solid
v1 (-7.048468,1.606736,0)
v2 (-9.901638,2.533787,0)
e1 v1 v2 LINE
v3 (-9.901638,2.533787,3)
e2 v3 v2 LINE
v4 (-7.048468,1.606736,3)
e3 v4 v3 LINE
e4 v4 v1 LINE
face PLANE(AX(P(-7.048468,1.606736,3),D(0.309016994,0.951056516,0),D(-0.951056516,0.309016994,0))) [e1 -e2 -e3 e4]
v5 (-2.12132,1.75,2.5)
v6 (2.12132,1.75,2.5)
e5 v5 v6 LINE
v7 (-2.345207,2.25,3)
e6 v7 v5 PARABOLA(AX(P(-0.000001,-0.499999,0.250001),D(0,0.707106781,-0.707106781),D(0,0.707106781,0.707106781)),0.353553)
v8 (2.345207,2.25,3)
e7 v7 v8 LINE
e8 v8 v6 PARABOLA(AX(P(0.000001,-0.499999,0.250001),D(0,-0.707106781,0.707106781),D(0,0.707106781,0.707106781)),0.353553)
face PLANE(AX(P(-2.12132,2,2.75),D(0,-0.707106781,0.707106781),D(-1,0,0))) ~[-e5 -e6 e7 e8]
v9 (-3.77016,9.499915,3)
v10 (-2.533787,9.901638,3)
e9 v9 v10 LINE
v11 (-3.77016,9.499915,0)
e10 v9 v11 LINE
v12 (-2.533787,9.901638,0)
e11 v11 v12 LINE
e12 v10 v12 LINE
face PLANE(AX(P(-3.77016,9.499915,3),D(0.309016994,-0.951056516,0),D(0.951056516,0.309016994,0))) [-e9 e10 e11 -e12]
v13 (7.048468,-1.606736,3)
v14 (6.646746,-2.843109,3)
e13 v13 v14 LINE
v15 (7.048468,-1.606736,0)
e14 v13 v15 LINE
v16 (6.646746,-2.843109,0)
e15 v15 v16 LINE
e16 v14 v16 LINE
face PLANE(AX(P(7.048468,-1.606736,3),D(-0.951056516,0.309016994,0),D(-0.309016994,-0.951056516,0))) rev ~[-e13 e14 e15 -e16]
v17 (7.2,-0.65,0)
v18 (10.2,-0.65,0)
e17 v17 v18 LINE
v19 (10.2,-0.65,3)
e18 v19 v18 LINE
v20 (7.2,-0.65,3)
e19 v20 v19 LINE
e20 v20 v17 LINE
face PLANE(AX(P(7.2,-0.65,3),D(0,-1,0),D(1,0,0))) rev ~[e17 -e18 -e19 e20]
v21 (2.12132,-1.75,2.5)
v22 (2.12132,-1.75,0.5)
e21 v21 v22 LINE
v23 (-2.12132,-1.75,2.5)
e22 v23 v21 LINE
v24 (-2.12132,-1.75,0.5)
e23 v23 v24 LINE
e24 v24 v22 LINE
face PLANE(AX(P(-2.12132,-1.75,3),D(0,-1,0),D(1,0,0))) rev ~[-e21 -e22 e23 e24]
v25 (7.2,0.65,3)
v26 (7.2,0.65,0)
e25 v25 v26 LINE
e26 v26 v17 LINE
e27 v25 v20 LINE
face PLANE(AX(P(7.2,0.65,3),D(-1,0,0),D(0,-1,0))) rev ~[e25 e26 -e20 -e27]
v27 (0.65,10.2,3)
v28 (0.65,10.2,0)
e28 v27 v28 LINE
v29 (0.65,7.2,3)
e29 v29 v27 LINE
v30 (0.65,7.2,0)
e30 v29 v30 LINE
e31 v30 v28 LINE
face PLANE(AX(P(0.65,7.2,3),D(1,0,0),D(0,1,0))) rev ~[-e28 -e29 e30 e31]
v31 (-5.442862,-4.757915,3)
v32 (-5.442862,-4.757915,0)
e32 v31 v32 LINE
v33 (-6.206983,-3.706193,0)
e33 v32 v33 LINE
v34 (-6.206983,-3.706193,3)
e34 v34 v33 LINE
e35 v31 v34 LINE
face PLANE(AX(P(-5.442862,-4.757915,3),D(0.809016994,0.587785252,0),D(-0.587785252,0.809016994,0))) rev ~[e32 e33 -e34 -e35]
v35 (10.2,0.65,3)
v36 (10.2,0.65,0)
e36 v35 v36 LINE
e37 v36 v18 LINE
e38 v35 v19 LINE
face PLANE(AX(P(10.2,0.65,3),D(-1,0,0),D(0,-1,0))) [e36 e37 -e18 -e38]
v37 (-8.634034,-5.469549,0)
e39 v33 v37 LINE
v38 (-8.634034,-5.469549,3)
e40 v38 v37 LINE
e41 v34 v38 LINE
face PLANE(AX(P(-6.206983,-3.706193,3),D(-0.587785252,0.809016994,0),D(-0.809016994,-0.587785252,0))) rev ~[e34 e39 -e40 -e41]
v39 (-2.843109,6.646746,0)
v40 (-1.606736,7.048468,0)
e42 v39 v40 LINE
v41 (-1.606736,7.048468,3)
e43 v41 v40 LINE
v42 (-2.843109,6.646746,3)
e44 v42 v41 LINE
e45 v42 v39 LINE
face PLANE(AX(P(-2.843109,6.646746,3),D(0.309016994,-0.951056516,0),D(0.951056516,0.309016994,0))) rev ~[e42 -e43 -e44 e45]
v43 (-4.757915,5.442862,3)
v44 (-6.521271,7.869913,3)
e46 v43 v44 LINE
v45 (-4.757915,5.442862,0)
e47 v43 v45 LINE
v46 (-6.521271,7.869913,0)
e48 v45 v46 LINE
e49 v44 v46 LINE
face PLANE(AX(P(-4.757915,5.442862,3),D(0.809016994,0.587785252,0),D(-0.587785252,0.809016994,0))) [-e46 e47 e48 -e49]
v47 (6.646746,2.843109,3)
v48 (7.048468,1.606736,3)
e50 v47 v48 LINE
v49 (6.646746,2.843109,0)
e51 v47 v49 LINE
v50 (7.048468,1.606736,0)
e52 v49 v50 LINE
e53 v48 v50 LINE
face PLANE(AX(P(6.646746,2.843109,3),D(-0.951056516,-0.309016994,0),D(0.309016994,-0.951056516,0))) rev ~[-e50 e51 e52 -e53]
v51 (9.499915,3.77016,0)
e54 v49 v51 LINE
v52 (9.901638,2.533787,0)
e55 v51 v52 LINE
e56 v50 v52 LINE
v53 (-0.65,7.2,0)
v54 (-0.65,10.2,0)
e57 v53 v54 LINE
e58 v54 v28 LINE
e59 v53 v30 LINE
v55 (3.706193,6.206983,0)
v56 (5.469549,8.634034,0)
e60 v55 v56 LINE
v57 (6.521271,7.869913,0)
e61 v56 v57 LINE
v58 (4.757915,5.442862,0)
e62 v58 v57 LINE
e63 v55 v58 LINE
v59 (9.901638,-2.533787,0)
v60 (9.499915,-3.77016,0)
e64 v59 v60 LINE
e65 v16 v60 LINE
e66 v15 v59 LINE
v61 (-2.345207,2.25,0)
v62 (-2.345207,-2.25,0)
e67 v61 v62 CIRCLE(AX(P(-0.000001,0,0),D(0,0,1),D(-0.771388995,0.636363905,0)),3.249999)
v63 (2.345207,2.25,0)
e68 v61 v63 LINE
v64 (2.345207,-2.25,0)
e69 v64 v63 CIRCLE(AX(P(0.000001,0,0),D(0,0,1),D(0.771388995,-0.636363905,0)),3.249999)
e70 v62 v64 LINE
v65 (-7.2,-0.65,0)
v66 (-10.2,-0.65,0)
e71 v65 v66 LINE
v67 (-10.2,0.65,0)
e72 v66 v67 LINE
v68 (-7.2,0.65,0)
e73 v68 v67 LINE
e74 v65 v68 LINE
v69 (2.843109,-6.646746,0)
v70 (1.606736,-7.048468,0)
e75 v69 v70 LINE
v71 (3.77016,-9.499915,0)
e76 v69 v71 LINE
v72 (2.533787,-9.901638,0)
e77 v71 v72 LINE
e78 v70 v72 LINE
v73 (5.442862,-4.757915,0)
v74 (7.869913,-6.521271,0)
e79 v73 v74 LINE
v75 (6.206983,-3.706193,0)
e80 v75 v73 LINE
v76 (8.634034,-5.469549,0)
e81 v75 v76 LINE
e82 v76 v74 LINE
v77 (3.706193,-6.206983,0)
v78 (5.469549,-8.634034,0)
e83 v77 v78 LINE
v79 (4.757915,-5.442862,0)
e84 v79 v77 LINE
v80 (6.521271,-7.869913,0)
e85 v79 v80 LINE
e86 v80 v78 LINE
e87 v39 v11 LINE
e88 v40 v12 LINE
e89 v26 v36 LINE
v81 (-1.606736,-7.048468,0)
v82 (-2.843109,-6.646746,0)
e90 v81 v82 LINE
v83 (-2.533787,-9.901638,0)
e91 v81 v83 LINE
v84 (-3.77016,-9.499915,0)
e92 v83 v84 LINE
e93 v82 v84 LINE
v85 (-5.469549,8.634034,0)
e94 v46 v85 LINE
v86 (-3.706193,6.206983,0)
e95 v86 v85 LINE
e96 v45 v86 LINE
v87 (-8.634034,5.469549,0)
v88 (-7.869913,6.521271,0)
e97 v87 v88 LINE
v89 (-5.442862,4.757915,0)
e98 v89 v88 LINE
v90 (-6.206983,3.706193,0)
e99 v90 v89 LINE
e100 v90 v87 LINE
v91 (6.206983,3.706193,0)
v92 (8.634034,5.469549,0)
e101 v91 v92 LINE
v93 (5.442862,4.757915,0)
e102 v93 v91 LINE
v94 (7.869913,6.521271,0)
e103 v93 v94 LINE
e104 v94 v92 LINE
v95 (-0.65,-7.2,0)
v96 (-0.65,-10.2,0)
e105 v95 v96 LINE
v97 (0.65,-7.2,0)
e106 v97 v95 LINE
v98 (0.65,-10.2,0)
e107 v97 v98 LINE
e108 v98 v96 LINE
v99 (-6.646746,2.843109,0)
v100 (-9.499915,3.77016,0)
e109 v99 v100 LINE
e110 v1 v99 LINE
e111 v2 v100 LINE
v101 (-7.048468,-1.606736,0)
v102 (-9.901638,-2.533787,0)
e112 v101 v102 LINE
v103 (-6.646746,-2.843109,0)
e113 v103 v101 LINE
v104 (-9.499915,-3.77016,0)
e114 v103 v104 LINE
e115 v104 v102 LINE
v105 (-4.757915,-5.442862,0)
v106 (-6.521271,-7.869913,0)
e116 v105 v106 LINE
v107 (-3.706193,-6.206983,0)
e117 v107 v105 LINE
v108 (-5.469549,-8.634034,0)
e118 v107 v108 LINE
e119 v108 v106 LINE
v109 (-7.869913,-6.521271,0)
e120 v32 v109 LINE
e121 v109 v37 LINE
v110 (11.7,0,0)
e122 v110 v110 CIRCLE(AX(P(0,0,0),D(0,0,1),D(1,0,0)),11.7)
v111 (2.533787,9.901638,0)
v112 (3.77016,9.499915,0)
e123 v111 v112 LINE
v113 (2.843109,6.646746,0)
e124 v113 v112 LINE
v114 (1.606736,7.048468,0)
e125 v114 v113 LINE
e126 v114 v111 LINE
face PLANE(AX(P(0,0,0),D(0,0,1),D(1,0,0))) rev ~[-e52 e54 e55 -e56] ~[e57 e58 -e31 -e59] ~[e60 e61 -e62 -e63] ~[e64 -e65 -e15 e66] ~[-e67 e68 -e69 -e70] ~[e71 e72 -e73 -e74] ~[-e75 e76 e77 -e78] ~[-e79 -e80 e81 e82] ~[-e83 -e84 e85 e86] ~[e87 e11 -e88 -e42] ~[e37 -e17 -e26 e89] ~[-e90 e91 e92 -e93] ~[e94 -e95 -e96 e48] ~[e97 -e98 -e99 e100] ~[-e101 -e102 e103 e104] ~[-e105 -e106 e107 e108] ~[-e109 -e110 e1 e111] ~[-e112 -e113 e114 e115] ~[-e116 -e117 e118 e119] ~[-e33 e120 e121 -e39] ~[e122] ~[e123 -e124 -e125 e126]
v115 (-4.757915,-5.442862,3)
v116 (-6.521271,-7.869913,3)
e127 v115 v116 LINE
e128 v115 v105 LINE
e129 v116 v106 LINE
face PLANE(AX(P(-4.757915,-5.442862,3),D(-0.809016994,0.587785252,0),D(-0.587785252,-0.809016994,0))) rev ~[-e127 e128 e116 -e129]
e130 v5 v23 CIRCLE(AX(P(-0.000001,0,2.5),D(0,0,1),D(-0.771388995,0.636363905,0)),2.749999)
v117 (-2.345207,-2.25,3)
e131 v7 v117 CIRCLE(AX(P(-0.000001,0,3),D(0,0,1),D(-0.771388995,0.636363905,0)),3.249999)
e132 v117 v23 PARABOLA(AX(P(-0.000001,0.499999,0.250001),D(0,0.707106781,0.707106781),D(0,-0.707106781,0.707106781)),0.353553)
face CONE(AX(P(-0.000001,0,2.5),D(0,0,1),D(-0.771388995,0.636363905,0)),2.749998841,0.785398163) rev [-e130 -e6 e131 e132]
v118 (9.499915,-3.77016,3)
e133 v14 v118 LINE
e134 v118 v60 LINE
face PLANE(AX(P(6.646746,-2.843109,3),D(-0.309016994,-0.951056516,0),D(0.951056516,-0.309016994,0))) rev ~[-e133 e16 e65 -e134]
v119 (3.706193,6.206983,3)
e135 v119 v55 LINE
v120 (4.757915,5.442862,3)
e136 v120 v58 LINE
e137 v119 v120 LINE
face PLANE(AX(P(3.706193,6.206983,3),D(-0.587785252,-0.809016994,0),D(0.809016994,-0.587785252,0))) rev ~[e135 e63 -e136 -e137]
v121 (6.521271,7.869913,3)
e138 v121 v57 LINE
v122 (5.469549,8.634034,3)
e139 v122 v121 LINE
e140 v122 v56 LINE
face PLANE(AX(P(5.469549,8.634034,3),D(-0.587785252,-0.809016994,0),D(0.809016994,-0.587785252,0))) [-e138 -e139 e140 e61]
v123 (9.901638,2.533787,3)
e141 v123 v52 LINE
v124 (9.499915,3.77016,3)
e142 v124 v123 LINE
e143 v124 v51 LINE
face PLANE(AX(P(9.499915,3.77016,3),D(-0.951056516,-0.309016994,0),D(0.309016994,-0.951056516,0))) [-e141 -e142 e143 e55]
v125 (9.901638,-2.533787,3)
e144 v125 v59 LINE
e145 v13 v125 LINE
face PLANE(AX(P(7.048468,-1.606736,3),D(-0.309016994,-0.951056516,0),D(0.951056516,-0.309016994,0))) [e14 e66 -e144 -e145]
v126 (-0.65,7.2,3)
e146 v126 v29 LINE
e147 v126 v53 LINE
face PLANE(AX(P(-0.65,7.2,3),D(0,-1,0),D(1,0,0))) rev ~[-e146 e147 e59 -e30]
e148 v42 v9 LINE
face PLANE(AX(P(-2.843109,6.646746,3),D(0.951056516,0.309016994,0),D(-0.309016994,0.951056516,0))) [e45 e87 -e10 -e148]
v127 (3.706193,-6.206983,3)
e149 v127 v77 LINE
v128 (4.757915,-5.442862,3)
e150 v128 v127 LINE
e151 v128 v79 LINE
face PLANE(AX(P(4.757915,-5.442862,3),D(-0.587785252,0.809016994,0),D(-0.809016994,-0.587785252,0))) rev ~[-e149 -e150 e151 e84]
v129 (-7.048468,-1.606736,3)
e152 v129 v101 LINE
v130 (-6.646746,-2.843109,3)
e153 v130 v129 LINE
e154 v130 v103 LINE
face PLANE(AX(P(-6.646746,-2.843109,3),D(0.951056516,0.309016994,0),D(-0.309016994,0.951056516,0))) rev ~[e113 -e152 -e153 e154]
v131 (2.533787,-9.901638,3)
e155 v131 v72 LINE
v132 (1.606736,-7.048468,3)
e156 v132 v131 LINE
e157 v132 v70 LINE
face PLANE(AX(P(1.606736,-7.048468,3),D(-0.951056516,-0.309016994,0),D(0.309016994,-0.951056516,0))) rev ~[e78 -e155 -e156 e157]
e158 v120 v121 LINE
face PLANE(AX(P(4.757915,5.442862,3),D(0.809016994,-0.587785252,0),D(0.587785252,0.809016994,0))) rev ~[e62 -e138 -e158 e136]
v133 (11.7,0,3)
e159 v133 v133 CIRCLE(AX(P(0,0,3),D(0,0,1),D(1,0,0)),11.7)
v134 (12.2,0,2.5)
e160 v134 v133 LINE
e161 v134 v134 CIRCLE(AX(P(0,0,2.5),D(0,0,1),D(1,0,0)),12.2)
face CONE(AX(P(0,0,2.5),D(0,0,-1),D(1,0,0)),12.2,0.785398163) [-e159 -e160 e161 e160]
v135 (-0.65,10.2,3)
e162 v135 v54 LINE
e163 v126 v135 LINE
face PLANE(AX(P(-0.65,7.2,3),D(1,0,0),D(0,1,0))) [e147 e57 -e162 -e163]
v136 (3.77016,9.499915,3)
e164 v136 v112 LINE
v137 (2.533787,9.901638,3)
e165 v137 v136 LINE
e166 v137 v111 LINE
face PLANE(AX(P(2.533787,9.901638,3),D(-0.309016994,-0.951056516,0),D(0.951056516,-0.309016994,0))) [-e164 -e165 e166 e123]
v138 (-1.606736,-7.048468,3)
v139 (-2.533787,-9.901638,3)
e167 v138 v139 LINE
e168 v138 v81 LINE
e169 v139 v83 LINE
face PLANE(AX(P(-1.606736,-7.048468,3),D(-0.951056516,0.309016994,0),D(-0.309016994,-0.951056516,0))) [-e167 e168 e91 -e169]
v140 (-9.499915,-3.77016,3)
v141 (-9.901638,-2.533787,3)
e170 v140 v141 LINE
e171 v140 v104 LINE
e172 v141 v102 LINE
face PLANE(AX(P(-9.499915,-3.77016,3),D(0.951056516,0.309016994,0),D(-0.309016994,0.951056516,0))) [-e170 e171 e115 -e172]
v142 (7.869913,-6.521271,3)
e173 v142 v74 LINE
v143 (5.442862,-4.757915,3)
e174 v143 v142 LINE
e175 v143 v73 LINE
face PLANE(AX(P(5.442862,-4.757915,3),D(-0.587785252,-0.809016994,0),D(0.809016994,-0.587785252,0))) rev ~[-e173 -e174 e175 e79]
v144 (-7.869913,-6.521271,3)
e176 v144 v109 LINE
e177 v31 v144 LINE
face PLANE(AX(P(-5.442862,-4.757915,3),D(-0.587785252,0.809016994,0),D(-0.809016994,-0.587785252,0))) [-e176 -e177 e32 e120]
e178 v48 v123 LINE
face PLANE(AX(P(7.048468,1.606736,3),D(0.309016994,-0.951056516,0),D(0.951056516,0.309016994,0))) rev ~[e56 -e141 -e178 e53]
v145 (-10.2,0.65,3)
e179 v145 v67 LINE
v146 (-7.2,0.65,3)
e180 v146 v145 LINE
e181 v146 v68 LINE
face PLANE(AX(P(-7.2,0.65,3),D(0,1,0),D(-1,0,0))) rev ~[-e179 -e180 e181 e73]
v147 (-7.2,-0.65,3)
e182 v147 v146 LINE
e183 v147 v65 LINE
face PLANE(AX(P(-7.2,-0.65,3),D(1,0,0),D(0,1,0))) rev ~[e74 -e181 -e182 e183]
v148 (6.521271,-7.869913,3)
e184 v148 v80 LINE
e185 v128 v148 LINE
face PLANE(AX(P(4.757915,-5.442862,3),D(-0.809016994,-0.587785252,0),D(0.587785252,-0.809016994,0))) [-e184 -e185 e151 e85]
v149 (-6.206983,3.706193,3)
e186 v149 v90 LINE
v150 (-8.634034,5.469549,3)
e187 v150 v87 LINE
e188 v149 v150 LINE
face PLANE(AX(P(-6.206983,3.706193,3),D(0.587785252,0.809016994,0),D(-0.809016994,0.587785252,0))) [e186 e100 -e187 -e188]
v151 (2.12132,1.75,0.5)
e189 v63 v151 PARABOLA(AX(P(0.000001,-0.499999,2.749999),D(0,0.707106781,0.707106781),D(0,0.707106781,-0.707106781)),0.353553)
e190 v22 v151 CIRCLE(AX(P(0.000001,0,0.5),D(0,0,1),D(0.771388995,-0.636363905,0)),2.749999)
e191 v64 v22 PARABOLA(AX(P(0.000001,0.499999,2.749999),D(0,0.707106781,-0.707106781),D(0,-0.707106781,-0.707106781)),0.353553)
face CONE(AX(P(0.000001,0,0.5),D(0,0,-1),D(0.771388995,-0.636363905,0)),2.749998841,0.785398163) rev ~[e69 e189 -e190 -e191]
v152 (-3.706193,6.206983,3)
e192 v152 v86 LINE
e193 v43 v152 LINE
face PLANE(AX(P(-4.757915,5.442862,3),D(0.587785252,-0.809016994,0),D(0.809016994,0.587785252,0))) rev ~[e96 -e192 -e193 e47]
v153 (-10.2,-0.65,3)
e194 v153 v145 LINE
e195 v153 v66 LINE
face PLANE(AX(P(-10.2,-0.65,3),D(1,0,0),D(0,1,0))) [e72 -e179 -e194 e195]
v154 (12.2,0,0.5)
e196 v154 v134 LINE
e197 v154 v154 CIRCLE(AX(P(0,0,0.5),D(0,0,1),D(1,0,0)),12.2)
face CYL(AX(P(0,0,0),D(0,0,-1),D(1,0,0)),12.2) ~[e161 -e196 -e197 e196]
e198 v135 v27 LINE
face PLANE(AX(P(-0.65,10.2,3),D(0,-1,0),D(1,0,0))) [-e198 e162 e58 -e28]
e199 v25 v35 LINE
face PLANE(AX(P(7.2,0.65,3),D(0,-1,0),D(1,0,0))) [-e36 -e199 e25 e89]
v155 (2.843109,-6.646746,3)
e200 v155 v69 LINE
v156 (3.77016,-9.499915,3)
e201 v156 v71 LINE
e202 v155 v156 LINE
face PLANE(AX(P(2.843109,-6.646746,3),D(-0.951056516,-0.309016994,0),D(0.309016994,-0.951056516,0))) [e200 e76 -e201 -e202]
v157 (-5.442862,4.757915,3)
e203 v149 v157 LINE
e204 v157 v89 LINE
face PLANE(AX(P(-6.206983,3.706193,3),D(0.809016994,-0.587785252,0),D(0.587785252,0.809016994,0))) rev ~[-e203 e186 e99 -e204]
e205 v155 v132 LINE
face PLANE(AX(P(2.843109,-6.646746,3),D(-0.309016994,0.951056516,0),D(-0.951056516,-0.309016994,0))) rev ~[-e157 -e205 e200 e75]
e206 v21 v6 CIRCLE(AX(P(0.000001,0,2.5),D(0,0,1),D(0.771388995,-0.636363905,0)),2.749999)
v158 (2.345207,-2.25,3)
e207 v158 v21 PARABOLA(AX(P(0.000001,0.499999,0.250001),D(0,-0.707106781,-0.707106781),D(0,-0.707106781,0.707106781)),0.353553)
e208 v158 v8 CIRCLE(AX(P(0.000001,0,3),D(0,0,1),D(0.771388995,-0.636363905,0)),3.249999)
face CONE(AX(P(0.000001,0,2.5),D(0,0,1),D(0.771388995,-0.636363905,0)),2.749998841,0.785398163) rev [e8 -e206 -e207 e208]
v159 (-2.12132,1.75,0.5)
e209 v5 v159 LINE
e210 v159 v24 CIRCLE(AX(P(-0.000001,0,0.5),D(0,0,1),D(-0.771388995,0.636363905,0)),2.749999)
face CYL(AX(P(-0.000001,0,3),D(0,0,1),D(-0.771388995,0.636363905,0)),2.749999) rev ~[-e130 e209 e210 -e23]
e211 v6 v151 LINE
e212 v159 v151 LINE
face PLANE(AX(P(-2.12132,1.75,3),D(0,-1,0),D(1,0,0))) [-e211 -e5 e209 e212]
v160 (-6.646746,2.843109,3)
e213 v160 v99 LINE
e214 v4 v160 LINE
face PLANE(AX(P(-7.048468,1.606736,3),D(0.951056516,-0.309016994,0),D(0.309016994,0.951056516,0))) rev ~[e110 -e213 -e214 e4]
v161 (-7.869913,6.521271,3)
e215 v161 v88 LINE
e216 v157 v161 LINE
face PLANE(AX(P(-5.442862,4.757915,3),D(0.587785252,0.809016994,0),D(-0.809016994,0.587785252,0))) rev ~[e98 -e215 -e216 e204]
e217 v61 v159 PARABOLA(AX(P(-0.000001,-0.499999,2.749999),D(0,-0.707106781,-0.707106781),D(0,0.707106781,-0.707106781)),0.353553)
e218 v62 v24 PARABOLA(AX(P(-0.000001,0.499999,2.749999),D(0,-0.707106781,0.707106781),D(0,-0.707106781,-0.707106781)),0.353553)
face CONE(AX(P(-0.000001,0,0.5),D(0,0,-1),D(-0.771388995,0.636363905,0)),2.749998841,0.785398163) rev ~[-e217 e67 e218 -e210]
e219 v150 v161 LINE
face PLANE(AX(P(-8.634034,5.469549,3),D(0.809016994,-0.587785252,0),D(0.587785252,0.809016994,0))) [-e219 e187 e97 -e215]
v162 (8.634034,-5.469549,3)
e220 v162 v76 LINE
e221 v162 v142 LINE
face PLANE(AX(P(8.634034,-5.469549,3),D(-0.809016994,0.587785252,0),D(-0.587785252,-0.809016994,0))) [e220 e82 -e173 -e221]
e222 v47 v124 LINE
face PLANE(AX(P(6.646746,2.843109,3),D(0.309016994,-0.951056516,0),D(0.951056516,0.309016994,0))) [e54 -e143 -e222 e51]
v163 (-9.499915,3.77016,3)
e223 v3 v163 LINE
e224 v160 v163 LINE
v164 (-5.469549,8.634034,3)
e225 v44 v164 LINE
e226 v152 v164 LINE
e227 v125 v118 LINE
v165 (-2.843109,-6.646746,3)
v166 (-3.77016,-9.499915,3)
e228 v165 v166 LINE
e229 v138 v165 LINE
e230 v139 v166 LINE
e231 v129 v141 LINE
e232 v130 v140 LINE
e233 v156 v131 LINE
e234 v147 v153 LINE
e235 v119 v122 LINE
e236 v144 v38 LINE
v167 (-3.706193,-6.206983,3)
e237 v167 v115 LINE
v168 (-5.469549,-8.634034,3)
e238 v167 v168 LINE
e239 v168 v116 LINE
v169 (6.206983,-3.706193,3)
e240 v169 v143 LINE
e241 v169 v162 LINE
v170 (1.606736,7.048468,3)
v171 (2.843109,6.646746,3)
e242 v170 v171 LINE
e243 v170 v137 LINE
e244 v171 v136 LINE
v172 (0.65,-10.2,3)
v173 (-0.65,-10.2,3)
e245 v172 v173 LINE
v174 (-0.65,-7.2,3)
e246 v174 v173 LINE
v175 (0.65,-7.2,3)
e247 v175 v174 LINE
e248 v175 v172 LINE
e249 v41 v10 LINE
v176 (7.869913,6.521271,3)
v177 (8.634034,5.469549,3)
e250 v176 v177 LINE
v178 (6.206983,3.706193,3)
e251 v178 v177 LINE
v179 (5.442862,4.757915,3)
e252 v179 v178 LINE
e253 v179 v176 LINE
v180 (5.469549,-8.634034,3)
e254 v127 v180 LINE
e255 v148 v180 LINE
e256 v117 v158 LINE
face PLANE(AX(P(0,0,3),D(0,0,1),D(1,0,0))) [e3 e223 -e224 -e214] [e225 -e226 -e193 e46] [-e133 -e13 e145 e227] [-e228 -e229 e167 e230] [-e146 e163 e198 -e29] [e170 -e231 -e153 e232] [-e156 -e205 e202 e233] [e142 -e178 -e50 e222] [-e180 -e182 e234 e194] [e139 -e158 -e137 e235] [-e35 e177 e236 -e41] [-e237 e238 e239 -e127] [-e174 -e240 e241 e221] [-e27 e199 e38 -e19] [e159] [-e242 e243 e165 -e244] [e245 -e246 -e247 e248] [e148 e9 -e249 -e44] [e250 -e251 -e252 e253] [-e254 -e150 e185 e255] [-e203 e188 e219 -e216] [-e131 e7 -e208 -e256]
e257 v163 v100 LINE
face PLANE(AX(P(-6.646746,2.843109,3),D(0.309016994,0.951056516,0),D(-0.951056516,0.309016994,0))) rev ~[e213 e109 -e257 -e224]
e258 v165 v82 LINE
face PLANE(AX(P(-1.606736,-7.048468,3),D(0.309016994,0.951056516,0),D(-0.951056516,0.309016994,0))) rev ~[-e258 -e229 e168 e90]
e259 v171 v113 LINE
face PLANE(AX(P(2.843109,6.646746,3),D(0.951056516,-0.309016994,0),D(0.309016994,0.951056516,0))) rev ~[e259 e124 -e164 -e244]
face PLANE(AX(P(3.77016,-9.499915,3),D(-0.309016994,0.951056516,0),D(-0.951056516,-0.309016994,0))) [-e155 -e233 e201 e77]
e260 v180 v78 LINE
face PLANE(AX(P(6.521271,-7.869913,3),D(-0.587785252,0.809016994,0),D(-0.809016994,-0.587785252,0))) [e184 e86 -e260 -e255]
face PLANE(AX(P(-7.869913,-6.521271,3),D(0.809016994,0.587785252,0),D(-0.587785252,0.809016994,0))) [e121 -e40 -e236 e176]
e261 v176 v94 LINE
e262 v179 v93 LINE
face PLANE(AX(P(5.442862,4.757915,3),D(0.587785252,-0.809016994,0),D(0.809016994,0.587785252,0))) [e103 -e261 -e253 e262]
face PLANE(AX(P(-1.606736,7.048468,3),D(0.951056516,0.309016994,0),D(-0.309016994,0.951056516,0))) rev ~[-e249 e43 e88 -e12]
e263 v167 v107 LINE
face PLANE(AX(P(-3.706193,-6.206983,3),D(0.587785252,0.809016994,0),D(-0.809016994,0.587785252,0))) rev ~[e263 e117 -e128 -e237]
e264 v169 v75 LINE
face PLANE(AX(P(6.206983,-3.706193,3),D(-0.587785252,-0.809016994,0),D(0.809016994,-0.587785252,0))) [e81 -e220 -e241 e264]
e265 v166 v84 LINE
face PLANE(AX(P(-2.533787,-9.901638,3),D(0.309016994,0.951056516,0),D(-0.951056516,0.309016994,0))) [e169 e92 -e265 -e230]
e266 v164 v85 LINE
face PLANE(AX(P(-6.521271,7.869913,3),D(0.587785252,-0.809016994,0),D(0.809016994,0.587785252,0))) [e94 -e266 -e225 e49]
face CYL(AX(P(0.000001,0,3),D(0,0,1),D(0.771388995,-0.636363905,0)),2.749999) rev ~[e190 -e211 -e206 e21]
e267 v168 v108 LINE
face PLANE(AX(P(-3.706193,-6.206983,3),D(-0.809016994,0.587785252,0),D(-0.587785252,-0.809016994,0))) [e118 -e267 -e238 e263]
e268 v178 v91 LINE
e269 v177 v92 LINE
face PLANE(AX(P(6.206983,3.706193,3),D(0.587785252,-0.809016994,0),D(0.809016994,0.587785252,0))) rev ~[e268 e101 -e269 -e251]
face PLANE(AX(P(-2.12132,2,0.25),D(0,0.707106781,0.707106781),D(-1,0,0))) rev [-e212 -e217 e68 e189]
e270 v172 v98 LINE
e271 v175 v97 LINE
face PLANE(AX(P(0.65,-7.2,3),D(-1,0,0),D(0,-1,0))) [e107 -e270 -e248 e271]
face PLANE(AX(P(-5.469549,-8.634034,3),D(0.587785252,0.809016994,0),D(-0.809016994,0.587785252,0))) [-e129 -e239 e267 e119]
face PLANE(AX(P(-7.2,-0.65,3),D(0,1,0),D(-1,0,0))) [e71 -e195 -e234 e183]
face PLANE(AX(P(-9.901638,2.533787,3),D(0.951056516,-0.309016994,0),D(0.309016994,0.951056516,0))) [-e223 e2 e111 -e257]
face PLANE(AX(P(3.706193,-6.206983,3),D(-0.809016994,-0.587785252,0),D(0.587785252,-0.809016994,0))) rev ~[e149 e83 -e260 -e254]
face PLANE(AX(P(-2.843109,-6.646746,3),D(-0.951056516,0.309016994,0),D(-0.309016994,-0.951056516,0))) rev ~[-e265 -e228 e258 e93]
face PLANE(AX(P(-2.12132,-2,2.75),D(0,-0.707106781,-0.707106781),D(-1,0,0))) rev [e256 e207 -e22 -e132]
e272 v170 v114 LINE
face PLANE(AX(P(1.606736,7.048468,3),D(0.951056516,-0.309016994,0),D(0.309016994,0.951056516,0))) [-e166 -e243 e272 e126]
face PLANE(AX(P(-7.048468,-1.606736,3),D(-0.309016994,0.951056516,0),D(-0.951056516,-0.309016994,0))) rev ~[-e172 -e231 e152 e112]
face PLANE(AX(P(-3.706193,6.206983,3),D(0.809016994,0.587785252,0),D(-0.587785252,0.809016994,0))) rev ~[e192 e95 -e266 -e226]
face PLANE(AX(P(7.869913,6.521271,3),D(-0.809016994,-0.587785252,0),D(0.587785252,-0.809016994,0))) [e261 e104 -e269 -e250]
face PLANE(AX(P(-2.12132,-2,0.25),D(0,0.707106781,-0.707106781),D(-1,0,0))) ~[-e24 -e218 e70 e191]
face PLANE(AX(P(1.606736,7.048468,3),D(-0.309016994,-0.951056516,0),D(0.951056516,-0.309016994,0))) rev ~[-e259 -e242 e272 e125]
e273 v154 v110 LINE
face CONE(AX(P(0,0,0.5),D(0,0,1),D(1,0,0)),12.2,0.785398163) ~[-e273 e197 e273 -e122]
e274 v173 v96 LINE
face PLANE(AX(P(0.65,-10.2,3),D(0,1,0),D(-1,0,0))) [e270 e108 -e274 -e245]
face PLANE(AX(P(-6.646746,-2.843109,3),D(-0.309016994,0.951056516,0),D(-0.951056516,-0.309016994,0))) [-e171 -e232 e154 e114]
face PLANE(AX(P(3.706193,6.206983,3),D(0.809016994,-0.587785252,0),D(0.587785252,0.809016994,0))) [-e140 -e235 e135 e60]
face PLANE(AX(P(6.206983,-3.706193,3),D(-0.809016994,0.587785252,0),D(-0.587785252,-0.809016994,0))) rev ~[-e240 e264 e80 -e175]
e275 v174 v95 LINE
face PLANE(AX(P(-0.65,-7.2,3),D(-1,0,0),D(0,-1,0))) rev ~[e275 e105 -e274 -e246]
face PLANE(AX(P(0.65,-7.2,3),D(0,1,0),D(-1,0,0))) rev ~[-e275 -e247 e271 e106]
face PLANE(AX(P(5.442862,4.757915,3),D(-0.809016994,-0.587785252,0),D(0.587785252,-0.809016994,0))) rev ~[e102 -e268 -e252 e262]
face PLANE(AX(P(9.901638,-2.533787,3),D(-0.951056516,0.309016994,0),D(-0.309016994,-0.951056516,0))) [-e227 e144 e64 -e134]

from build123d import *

# Parameters (mm, degrees)
SKETCH002_R        = 12.2
PAD_DEPTH          = 3
POCKET_DEPTH       = 3.001
SKETCH003_W        = 1.3
SKETCH003_H        = 3
POCKET001_DEPTH    = 72.274949
POLARPATTERN_COUNT = 20
CHAMFER_SIZE       = 0.5


with BuildPart() as part:
    # Sketch002 → Pad (new body)
    with BuildSketch(Plane.XY):
        Circle(SKETCH002_R)
    extrude(amount=PAD_DEPTH)

    # Sketch → Pocket (cut, through all)
    with BuildSketch(Plane.XY.offset(3)):
        with BuildLine():
            Line((-2.12132, 1.75), (2.12132, 1.75))
            ThreePointArc((2.12132, -1.75), (2.75, 0), (2.12132, 1.75))
            Line((-2.12132, -1.75), (2.12132, -1.75))
            ThreePointArc((-2.12132, 1.75), (-2.75, 0), (-2.12132, -1.75))
        make_face()
    extrude(amount=-POCKET_DEPTH, mode=Mode.SUBTRACT)

    # Sketch003 → Pocket001 (cut, through all)
    with BuildSketch(Plane.XY.offset(3)):
        with Locations((0, 8.7)):
            Rectangle(SKETCH003_W, SKETCH003_H)
    pocket001 = extrude(amount=-POCKET001_DEPTH, mode=Mode.SUBTRACT)

    # PolarPattern: Pocket001 ×20 about axis
    polarpattern_axis = Axis((0, 0, 3), (0, 0, 1))
    for i in range(1, POLARPATTERN_COUNT):
        add(pocket001.rotate(polarpattern_axis, i * 360 / POLARPATTERN_COUNT), mode=Mode.SUBTRACT)

    # Chamfer
    chamfer_edges = [part.edges().sort_by_distance(p)[0] for p in [
        (-2.75, 0, 3),
        (0, 1.75, 3),
        (2.75, 0, 3),
        (0, -1.75, 3),
        (-12.2, 0, 3),
        (-12.2, 0, 0),
        (-2.75, 0, 0),
        (0, 1.75, 0),
        (0, -1.75, 0),
        (2.75, 0, 0),
    ]]
    chamfer(chamfer_edges, length=CHAMFER_SIZE)


solid = part.part
